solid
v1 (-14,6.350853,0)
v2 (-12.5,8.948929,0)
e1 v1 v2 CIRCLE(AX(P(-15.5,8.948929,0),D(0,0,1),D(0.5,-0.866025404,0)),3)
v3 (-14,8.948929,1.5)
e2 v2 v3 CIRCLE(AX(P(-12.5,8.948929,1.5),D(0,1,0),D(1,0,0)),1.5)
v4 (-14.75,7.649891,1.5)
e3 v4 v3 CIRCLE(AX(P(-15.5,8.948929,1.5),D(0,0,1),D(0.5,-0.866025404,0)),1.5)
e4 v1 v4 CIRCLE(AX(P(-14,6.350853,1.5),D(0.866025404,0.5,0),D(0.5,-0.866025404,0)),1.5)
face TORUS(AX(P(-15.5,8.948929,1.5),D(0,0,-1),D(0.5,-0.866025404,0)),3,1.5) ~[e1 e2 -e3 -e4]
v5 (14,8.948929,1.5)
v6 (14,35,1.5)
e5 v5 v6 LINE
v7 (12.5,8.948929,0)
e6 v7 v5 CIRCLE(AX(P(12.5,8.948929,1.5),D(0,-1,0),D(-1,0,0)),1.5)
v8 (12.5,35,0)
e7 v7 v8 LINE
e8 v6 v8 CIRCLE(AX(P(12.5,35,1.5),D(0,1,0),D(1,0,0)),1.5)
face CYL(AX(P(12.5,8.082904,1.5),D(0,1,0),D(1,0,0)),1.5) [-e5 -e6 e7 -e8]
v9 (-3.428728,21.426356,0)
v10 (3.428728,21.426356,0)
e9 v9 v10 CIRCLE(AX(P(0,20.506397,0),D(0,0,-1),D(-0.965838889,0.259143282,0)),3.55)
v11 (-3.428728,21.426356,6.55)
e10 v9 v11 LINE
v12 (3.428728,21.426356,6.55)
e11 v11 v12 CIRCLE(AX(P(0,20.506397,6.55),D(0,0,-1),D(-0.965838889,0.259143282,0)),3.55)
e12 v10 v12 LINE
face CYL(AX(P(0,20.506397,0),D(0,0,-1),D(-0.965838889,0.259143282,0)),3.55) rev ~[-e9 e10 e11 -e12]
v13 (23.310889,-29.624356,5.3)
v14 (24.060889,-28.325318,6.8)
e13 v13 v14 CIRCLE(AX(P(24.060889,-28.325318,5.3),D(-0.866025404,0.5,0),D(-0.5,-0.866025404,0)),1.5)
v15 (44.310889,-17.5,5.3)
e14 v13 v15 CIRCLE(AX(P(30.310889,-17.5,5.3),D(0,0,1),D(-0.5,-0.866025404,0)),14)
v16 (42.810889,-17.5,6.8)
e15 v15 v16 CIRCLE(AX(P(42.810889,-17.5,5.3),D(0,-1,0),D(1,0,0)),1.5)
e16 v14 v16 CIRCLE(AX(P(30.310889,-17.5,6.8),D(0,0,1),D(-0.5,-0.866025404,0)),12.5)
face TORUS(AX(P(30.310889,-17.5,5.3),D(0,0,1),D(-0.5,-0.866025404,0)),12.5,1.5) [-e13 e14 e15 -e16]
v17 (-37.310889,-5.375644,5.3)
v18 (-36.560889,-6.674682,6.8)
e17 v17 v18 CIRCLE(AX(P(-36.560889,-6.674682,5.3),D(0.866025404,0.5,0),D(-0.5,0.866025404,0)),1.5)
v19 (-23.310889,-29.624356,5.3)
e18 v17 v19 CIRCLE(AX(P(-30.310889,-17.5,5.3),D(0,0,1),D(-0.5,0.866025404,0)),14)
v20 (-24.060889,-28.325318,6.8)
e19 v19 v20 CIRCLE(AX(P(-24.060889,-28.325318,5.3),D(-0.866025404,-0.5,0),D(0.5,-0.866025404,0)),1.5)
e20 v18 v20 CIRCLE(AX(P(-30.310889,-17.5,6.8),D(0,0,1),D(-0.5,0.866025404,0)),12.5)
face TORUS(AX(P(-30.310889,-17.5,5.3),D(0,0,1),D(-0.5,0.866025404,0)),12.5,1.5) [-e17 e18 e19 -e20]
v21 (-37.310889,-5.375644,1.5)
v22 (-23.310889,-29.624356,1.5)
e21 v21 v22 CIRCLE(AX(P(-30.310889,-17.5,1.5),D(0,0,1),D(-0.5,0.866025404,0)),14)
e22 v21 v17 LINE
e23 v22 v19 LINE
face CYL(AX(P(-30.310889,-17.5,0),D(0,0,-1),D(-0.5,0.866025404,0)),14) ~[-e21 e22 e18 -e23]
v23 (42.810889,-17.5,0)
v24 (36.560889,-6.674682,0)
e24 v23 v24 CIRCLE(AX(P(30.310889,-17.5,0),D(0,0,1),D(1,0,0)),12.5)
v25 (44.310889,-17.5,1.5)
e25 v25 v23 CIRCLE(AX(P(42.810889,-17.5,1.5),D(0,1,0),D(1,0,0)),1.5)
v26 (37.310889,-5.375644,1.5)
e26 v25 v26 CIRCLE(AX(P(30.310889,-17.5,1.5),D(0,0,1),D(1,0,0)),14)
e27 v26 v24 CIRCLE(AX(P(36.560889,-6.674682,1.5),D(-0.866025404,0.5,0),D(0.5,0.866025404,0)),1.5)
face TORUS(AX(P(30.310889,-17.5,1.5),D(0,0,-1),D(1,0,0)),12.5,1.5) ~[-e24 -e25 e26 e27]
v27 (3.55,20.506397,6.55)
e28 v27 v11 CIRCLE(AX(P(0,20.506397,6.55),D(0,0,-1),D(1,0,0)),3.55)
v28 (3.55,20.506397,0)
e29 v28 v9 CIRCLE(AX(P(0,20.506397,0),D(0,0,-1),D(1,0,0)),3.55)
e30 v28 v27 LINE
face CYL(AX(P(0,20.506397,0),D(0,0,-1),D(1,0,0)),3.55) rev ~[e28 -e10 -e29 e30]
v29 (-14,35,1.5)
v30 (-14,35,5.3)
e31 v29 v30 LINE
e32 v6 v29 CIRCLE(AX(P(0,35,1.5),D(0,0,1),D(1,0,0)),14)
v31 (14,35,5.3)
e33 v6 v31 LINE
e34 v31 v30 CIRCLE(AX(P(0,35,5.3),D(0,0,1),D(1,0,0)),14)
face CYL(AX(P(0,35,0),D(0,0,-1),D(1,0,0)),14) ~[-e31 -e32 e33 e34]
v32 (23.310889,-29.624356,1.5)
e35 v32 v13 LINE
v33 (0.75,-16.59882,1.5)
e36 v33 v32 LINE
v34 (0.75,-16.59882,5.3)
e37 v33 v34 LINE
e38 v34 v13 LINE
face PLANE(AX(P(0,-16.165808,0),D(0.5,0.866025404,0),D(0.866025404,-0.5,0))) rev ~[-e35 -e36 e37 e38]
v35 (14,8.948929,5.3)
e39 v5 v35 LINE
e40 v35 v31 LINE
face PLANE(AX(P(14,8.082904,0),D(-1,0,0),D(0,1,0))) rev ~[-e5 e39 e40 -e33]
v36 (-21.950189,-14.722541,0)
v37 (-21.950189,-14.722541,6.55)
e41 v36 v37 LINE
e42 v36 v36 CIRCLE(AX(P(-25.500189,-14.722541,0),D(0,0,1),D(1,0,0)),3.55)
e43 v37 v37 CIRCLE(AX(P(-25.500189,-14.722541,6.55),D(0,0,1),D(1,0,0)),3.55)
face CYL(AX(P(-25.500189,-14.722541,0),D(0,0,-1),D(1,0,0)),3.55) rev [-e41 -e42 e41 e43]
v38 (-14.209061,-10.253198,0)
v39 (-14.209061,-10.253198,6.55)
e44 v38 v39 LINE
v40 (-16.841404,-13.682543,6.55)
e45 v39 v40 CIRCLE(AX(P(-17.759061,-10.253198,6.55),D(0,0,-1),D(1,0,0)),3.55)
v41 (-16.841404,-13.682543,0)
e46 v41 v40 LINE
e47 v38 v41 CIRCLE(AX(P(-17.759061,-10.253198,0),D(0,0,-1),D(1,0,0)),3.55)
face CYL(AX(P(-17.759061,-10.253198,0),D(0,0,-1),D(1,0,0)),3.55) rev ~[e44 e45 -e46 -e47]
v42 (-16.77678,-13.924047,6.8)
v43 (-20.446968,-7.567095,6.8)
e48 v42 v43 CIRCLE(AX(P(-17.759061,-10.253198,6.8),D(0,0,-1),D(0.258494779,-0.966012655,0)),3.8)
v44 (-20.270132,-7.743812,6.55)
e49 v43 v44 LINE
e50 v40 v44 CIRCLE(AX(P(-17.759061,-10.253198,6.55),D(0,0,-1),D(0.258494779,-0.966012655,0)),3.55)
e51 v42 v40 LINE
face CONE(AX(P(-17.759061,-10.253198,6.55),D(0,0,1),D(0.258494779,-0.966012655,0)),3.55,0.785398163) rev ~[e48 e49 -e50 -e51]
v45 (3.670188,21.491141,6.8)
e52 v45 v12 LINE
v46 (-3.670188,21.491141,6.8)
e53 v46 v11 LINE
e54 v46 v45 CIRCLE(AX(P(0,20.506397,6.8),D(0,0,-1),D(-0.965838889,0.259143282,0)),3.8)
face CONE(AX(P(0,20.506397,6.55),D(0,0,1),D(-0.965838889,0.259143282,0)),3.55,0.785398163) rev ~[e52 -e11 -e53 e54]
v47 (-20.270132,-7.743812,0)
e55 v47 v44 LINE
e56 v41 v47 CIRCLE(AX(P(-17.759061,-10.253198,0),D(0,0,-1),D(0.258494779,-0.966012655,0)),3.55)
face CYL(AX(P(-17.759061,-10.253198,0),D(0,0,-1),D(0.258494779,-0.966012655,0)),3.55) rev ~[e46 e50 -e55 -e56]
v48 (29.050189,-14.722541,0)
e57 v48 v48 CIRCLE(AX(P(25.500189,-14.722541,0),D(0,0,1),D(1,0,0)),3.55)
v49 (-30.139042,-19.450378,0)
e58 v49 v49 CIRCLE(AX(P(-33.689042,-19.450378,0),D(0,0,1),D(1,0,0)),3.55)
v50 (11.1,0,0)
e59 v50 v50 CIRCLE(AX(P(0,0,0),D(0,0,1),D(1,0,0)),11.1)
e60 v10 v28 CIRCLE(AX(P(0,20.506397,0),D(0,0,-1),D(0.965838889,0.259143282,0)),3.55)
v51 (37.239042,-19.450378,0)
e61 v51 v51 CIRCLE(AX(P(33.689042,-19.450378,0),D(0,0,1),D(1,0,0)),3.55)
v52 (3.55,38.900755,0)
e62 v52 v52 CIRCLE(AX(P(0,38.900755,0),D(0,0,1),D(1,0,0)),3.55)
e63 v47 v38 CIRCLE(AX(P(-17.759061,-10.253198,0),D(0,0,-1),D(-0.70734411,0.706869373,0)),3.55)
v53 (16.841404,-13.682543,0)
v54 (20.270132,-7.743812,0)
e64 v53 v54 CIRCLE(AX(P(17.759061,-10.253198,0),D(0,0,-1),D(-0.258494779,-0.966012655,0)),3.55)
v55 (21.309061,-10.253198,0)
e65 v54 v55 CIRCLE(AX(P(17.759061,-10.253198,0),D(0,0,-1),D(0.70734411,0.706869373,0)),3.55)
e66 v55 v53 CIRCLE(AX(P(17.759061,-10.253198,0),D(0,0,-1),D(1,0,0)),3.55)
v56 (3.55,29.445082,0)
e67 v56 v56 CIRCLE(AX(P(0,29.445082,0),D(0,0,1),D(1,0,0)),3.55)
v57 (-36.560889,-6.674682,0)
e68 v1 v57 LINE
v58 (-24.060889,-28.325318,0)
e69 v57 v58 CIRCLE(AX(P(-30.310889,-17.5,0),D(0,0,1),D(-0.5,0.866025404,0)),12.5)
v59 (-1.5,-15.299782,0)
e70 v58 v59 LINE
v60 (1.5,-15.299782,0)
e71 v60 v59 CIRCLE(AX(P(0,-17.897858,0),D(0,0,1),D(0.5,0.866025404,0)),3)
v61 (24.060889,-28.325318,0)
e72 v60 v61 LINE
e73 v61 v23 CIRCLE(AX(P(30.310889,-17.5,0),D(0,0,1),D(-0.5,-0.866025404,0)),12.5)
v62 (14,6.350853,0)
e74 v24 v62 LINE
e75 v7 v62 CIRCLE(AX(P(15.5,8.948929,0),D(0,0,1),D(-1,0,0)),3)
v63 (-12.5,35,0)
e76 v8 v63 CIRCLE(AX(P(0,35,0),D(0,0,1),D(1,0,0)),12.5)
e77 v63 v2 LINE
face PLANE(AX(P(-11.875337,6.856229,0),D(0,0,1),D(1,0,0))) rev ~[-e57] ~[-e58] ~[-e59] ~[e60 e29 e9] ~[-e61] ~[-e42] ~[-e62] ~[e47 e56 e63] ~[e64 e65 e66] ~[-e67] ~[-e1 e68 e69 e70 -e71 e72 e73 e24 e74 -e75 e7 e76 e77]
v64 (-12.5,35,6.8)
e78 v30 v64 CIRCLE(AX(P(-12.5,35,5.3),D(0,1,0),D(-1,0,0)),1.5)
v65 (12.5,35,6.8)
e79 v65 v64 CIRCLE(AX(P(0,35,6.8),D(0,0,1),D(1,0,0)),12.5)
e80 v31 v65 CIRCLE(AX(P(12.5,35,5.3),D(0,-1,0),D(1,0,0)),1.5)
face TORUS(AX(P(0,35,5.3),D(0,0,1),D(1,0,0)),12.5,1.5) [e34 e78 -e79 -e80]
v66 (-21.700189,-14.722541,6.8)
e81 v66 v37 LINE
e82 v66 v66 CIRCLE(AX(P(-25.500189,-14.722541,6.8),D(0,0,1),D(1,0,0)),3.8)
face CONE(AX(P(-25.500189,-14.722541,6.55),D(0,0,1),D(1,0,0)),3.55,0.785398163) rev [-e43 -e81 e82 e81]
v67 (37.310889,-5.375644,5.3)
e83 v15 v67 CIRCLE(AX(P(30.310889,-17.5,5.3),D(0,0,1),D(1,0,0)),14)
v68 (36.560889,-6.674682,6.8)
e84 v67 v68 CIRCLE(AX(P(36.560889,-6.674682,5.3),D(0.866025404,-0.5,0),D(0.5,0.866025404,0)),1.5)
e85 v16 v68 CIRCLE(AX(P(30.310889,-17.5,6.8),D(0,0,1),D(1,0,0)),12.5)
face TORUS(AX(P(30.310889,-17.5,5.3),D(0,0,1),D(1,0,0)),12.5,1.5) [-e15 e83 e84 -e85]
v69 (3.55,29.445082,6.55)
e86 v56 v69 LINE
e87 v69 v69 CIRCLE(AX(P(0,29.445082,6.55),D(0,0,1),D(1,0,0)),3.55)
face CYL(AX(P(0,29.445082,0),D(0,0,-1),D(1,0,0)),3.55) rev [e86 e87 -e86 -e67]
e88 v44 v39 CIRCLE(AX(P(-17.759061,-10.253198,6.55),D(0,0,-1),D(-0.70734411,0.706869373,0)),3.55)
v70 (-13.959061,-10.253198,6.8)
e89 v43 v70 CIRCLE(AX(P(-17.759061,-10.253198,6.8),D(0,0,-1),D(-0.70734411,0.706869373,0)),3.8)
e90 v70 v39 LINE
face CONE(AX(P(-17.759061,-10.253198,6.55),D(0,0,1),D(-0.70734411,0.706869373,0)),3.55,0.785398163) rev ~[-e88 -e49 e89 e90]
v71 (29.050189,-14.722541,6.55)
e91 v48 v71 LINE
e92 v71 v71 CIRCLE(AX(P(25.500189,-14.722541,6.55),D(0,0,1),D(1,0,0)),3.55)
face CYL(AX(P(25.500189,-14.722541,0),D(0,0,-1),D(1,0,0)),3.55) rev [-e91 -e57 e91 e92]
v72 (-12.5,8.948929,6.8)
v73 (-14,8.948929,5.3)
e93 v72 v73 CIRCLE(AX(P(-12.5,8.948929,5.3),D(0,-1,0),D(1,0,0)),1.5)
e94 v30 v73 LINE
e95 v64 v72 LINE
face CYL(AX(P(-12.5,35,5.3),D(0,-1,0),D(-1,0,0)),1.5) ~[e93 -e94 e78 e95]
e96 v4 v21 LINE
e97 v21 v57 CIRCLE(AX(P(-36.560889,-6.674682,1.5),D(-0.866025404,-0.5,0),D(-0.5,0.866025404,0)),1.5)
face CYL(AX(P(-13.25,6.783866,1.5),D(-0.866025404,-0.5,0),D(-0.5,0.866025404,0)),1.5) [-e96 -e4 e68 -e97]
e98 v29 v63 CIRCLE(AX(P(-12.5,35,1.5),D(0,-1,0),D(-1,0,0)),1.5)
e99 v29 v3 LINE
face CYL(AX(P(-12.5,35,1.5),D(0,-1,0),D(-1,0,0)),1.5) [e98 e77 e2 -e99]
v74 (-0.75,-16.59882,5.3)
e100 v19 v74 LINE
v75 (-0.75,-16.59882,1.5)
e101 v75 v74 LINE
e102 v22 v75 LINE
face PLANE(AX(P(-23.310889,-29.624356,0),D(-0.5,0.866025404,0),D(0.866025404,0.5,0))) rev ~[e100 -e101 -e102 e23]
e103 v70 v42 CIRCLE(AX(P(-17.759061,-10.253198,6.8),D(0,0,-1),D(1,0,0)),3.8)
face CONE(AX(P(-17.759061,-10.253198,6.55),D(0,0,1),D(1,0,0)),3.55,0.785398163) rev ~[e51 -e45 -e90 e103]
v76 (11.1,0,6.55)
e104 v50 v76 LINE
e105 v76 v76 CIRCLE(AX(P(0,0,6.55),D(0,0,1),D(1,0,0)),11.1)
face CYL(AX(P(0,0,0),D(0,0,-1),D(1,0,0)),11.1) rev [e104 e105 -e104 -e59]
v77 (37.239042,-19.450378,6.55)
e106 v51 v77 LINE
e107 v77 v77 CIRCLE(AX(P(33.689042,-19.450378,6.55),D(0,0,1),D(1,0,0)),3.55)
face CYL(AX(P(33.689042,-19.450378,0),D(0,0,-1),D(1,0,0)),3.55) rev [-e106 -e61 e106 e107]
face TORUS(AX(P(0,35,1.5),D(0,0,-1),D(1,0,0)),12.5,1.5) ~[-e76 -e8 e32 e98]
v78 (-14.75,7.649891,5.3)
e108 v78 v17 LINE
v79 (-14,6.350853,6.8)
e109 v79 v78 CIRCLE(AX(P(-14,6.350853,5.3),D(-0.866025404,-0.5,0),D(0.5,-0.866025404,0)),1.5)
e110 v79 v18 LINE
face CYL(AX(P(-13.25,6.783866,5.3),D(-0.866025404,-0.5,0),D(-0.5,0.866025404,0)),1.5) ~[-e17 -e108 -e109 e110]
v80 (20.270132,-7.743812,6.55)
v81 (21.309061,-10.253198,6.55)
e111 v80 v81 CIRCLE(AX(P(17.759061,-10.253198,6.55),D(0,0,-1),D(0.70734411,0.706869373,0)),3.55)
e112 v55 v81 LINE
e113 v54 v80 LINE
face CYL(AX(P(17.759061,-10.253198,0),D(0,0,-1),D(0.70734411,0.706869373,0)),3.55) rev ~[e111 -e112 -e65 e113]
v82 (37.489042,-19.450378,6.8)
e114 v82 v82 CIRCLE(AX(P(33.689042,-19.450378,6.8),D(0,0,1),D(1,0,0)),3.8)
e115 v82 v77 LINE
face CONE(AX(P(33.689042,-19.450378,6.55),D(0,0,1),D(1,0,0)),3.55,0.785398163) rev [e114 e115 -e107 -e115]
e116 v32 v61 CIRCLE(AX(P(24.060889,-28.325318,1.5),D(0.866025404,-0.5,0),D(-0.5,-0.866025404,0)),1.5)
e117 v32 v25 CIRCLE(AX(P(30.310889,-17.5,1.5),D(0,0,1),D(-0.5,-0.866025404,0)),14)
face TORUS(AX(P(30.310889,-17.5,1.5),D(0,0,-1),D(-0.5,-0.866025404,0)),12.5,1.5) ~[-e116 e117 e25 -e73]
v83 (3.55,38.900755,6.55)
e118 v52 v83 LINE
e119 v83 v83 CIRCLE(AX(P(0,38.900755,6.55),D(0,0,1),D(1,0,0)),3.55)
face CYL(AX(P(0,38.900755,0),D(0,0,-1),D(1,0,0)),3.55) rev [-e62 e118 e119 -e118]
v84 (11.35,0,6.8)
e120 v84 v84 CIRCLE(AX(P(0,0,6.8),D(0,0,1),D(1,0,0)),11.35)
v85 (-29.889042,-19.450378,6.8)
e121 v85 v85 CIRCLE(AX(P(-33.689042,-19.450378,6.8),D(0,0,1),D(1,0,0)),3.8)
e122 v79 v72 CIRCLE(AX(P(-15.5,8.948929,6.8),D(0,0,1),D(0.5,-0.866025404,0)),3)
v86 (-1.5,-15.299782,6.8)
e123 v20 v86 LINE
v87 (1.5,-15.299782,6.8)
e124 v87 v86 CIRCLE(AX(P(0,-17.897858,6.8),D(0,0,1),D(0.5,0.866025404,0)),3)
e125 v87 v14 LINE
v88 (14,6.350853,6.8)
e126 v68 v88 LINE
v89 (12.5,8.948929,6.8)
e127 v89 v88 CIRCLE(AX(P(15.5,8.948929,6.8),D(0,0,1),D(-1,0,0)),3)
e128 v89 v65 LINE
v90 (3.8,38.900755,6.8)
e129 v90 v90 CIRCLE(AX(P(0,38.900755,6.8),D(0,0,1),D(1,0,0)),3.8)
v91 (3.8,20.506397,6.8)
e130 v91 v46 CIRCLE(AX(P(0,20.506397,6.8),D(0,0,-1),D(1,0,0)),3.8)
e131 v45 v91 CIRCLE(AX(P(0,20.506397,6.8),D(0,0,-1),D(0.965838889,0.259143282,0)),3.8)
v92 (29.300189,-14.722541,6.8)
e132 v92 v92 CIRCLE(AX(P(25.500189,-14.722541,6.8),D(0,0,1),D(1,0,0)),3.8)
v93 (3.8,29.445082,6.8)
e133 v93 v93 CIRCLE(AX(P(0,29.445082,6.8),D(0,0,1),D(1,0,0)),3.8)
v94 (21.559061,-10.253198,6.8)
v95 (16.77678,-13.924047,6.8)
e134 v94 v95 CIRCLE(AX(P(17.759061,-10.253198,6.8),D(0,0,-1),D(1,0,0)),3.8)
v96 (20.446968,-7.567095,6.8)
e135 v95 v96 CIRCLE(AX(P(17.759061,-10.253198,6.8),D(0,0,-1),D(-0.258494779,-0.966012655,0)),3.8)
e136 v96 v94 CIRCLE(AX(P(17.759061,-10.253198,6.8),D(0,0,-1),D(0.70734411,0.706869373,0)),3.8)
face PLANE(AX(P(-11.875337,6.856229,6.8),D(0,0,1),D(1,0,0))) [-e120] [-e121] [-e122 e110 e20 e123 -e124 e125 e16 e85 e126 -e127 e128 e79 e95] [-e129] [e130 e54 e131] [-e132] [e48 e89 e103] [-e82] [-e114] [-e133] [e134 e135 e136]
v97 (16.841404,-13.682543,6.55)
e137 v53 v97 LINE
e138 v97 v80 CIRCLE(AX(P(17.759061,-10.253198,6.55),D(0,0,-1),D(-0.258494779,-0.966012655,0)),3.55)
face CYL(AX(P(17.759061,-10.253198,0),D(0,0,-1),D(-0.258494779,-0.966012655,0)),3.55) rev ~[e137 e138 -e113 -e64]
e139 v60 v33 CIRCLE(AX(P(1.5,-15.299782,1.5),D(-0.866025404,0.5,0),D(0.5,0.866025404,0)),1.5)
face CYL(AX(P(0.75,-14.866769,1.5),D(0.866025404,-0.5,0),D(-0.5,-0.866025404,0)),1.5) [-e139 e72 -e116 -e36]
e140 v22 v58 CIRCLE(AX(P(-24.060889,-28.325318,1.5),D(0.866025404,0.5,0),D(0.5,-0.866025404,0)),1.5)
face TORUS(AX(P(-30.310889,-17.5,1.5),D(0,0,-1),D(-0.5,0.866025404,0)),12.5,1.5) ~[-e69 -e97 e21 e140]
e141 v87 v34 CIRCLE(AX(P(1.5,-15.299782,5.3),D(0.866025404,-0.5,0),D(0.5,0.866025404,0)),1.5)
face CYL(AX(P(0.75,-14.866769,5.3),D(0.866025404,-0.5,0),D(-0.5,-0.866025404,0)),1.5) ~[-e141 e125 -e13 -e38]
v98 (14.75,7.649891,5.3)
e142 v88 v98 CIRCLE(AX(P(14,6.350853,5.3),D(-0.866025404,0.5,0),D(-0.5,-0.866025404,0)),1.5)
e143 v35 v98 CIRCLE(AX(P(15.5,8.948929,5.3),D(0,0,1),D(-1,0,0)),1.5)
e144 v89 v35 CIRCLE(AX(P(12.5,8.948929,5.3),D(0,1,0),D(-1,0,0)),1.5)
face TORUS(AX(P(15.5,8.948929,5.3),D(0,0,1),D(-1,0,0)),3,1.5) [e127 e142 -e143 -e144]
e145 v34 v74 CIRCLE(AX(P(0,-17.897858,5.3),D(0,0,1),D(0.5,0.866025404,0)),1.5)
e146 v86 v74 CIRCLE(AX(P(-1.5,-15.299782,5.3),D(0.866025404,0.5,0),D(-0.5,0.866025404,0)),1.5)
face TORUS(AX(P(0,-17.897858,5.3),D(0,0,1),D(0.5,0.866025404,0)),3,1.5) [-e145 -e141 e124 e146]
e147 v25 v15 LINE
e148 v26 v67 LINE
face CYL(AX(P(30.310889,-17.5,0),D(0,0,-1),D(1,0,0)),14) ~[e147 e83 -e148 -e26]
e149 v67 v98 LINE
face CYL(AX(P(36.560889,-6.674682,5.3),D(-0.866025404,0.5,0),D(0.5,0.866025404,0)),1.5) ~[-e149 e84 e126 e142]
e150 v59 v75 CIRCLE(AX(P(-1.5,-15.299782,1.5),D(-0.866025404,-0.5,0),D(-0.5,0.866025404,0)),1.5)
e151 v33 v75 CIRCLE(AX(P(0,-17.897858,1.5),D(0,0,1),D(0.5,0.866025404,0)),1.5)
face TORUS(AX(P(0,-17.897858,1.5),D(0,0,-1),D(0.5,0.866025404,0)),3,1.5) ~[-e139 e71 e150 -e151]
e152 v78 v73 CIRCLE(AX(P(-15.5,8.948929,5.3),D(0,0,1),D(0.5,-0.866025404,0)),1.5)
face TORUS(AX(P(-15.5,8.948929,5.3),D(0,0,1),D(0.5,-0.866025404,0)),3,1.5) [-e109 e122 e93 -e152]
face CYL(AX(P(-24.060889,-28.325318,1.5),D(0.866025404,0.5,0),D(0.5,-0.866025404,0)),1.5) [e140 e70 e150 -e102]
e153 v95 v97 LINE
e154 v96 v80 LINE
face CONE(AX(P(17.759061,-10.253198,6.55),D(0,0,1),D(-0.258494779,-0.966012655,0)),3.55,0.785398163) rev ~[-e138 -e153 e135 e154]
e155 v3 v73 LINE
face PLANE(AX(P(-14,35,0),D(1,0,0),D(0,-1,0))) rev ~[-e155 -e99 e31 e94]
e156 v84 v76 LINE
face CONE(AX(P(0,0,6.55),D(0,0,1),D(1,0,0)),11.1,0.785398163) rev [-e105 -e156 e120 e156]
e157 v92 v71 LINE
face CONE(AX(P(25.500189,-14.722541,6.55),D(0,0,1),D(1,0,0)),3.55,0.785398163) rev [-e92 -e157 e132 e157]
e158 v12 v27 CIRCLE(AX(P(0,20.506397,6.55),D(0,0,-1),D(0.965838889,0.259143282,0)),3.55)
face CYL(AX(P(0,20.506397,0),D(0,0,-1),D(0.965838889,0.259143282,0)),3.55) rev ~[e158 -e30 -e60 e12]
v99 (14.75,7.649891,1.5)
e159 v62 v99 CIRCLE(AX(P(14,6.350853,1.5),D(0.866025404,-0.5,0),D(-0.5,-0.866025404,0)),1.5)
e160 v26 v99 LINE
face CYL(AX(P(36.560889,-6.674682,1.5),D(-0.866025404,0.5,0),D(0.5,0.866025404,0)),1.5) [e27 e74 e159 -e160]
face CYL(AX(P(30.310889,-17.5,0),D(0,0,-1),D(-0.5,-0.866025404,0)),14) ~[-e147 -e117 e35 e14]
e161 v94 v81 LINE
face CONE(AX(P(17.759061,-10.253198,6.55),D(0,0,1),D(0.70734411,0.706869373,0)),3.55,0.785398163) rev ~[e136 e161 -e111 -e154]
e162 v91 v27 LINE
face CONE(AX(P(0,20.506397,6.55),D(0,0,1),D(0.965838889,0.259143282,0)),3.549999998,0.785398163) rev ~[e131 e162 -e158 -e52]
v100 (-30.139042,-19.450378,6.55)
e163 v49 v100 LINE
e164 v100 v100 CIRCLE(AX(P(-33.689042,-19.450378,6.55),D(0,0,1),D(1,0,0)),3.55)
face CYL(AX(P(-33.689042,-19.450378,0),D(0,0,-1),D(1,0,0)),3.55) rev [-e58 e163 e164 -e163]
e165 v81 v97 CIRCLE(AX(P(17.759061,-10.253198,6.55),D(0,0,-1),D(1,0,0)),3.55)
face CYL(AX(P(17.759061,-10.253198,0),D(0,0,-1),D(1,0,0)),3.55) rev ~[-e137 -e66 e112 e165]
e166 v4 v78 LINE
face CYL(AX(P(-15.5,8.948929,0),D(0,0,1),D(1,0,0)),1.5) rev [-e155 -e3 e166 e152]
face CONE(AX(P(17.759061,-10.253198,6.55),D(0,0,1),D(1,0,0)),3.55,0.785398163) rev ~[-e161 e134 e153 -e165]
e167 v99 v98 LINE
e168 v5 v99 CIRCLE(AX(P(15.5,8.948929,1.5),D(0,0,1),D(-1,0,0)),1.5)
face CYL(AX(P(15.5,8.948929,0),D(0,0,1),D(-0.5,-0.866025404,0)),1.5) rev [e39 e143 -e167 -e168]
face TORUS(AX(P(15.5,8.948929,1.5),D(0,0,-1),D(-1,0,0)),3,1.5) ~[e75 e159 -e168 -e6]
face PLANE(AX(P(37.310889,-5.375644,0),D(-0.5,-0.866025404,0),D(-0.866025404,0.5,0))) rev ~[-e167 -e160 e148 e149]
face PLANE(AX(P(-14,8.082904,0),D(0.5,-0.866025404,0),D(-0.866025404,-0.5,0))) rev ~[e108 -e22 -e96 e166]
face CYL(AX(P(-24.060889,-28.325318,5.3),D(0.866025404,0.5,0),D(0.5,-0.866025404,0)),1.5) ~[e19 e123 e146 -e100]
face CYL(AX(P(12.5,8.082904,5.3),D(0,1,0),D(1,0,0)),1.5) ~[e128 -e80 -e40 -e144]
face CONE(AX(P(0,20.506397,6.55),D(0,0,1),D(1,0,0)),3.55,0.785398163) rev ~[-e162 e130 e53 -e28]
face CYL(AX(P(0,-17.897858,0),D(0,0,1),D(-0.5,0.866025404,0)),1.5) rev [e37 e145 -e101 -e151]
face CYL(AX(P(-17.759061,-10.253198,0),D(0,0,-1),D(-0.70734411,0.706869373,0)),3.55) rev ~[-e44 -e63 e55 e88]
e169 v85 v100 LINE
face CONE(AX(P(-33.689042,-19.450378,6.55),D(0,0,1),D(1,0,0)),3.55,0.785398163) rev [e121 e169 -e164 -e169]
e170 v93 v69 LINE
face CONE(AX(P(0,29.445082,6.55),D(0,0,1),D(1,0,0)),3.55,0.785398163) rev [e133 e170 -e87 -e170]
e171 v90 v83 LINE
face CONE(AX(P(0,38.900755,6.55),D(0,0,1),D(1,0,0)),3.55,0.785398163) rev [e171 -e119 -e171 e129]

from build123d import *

# Parameters (mm, degrees)
F0_R     = 3.55
F0_R_2   = 11.1
F1_DEPTH = 6.8
F2_R     = 1.5
F3_SIZE  = 0.25


with BuildPart() as f1:
    # F0 (on Top) → F1 (new body)
    with BuildSketch(Plane.XY):
        with BuildLine():
            ThreePointArc((-14, 0), (-12.124355653, 7), (-7, 12.124355653))
            Line((-7, 12.124355653), (-14, 8.0829037687))
            Line((-14, 8.0829037687), (-14, 0))
        make_face()
        with BuildLine():
            ThreePointArc((-7, 12.124355653), (0, 14), (7, 12.124355653))
            Line((7, 12.124355653), (14, 8.0829037687))
            Line((14, 8.0829037687), (14, 35))
            ThreePointArc((14, 35), (11.0454106484, 26.3977384596), (3.4287280559, 21.4263555403))
            ThreePointArc((3.4287280559, 21.4263555403), (3.5195514344, 20.9703556172), (3.55, 20.5063968897))
            ThreePointArc((3.55, 20.5063968897), (-0.4639587275, 16.9868454553), (-3.4287280559, 21.4263555403))
            ThreePointArc((-3.4287280559, 21.4263555403), (-11.0454106484, 26.3977384596), (-14, 35))
            Line((-14, 35), (-14, 8.0829037687))
            Line((-14, 8.0829037687), (-7, 12.124355653))
        make_face()
        with BuildLine():
            ThreePointArc((3.4287280559, 21.4263555403), (11.0454106484, 26.3977384596), (14, 35))
            ThreePointArc((14, 35), (0, 49), (-14, 35))
            ThreePointArc((-14, 35), (-11.0454106484, 26.3977384596), (-3.4287280559, 21.4263555403))
            ThreePointArc((-3.4287280559, 21.4263555403), (0, 24.0563968897), (3.4287280559, 21.4263555403))
        make_face()
        with Locations((0, 29.4450819492)):
            Circle(F0_R, mode=Mode.SUBTRACT)
        with Locations((0, 38.9007553458)):
            Circle(F0_R, mode=Mode.SUBTRACT)
        with BuildLine():
            Line((14, 8.0829037687), (14, 0))
            ThreePointArc((14, 0), (12.124355653, -7), (7, -12.124355653))
            Line((7, -12.124355653), (0, -16.1658075373))
            Line((0, -16.1658075373), (23.3108891325, -29.624355653))
            ThreePointArc((23.3108891325, -29.624355653), (17.3384067843, -22.7644754465), (16.8414041805, -13.6825433692))
            ThreePointArc((16.8414041805, -13.6825433692), (14.6846704631, -8.4781984448), (20.2701322363, -7.7438121711))
            ThreePointArc((20.2701322363, -7.7438121711), (28.3838174327, -3.6332630131), (37.3108891325, -5.375644347))
            Line((37.3108891325, -5.375644347), (14, 8.0829037687))
        make_face()
        with BuildLine():
            ThreePointArc((44.3108891325, -17.5), (42.4352447854, -10.5), (37.3108891325, -5.375644347))
            ThreePointArc((37.3108891325, -5.375644347), (28.3838174327, -3.6332630131), (20.2701322363, -7.7438121711))
            ThreePointArc((20.2701322363, -7.7438121711), (21.0390609624, -8.895222772), (21.3090606466, -10.2531984448))
            ThreePointArc((21.3090606466, -10.2531984448), (19.9206364081, -13.0692400332), (16.8414041805, -13.6825433692))
            ThreePointArc((16.8414041805, -13.6825433692), (17.3384067843, -22.7644754465), (23.3108891325, -29.624355653))
            ThreePointArc((23.3108891325, -29.624355653), (37.3108891325, -29.624355653), (44.3108891325, -17.5))
        make_face()
        with Locations((25.5001889846, -14.7225409746)):
            Circle(F0_R, mode=Mode.SUBTRACT)
        with Locations((33.6890423559, -19.4503776729)):
            Circle(F0_R, mode=Mode.SUBTRACT)
        with BuildLine():
            ThreePointArc((-37.3108891325, -5.375644347), (-42.4352447854, -24.5), (-23.3108891325, -29.624355653))
            ThreePointArc((-23.3108891325, -29.624355653), (-18.1865334795, -24.5), (-16.3108891325, -17.5))
            ThreePointArc((-16.3108891325, -17.5), (-16.4441521456, -15.5729283002), (-16.8414041805, -13.6825433692))
            ThreePointArc((-16.8414041805, -13.6825433692), (-20.83345083, -12.0281984448), (-20.2701322363, -7.7438121711))
            ThreePointArc((-20.2701322363, -7.7438121711), (-28.3838174327, -3.6332630131), (-37.3108891325, -5.375644347))
        make_face()
        with Locations((-33.6890423559, -19.4503776729)):
            Circle(F0_R, mode=Mode.SUBTRACT)
        with Locations((-25.5001889846, -14.7225409746)):
            Circle(F0_R, mode=Mode.SUBTRACT)
        with BuildLine():
            Line((0, -16.1658075373), (-7, -12.124355653))
            ThreePointArc((-7, -12.124355653), (-12.124355653, -7), (-14, 0))
            Line((-14, 0), (-14, 8.0829037687))
            Line((-14, 8.0829037687), (-37.3108891325, -5.375644347))
            ThreePointArc((-37.3108891325, -5.375644347), (-28.3838174327, -3.6332630131), (-20.2701322363, -7.7438121711))
            ThreePointArc((-20.2701322363, -7.7438121711), (-16.4010849737, -6.973198129), (-14.2090606466, -10.2531984448))
            ThreePointArc((-14.2090606466, -10.2531984448), (-14.9430190582, -12.4147742063), (-16.8414041805, -13.6825433692))
            ThreePointArc((-16.8414041805, -13.6825433692), (-16.4441521456, -15.5729283002), (-16.3108891325, -17.5))
            ThreePointArc((-16.3108891325, -17.5), (-18.1865334795, -24.5), (-23.3108891325, -29.624355653))
            Line((-23.3108891325, -29.624355653), (0, -16.1658075373))
        make_face()
        with BuildLine():
            Line((0, -16.1658075373), (7, -12.124355653))
            ThreePointArc((7, -12.124355653), (0, -14), (-7, -12.124355653))
            Line((-7, -12.124355653), (0, -16.1658075373))
        make_face()
        with BuildLine():
            ThreePointArc((7, -12.124355653), (12.124355653, -7), (14, 0))
            ThreePointArc((14, 0), (12.124355653, 7), (7, 12.124355653))
            ThreePointArc((7, 12.124355653), (0, 14), (-7, 12.124355653))
            ThreePointArc((-7, 12.124355653), (-12.124355653, 7), (-14, 0))
            ThreePointArc((-14, 0), (-12.124355653, -7), (-7, -12.124355653))
            ThreePointArc((-7, -12.124355653), (0, -14), (7, -12.124355653))
        make_face()
        Circle(F0_R_2, mode=Mode.SUBTRACT)
        with BuildLine():
            ThreePointArc((7, 12.124355653), (12.124355653, 7), (14, 0))
            Line((14, 0), (14, 8.0829037687))
            Line((14, 8.0829037687), (7, 12.124355653))
        make_face()
    extrude(amount=F1_DEPTH)

    # F2
    f2_edges = [f1.edges().sort_by_distance(p)[0] for p in [
        (-37.310889, -5.375644, 3.4),
        (-23.310889, -29.624356, 3.4),
        (-42.435245, -24.5, 0),
        (-42.435245, -24.5, 6.8),
        (0, -16.165808, 3.4),
        (-11.655445, -22.895082, 0),
        (-11.655445, -22.895082, 6.8),
        (23.310889, -29.624356, 3.4),
        (11.655445, -22.895082, 0),
        (11.655445, -22.895082, 6.8),
        (37.310889, -5.375644, 3.4),
        (42.435245, -24.5, 0),
        (42.435245, -24.5, 6.8),
        (14, 8.082904, 3.4),
        (25.655445, 1.35363, 0),
        (25.655445, 1.35363, 6.8),
        (14, 35, 3.4),
        (14, 21.541452, 0),
        (14, 21.541452, 6.8),
        (-14, 35, 3.4),
        (-14, 8.082904, 3.4),
        (-14, 21.541452, 0),
        (-14, 21.541452, 6.8),
        (-25.655445, 1.35363, 0),
        (-25.655445, 1.35363, 6.8),
    ]]
    fillet(f2_edges, radius=F2_R)

    # F3
    f3_edges = [f1.edges().sort_by_distance(p)[0] for p in [
        (-37.239042, -19.450378, 6.8),
        (-29.050189, -14.722541, 6.8),
        (-18.676717, -6.823854, 6.8),
        (-11.1, 0, 6.8),
        (3.428728, 19.586438, 6.8),
        (-3.55, 29.445082, 6.8),
        (-3.55, 38.900755, 6.8),
        (15.247989, -12.762585, 6.8),
        (21.950189, -14.722541, 6.8),
        (30.139042, -19.450378, 6.8),
    ]]
    chamfer(f3_edges, length=F3_SIZE)


solid = f1.part
